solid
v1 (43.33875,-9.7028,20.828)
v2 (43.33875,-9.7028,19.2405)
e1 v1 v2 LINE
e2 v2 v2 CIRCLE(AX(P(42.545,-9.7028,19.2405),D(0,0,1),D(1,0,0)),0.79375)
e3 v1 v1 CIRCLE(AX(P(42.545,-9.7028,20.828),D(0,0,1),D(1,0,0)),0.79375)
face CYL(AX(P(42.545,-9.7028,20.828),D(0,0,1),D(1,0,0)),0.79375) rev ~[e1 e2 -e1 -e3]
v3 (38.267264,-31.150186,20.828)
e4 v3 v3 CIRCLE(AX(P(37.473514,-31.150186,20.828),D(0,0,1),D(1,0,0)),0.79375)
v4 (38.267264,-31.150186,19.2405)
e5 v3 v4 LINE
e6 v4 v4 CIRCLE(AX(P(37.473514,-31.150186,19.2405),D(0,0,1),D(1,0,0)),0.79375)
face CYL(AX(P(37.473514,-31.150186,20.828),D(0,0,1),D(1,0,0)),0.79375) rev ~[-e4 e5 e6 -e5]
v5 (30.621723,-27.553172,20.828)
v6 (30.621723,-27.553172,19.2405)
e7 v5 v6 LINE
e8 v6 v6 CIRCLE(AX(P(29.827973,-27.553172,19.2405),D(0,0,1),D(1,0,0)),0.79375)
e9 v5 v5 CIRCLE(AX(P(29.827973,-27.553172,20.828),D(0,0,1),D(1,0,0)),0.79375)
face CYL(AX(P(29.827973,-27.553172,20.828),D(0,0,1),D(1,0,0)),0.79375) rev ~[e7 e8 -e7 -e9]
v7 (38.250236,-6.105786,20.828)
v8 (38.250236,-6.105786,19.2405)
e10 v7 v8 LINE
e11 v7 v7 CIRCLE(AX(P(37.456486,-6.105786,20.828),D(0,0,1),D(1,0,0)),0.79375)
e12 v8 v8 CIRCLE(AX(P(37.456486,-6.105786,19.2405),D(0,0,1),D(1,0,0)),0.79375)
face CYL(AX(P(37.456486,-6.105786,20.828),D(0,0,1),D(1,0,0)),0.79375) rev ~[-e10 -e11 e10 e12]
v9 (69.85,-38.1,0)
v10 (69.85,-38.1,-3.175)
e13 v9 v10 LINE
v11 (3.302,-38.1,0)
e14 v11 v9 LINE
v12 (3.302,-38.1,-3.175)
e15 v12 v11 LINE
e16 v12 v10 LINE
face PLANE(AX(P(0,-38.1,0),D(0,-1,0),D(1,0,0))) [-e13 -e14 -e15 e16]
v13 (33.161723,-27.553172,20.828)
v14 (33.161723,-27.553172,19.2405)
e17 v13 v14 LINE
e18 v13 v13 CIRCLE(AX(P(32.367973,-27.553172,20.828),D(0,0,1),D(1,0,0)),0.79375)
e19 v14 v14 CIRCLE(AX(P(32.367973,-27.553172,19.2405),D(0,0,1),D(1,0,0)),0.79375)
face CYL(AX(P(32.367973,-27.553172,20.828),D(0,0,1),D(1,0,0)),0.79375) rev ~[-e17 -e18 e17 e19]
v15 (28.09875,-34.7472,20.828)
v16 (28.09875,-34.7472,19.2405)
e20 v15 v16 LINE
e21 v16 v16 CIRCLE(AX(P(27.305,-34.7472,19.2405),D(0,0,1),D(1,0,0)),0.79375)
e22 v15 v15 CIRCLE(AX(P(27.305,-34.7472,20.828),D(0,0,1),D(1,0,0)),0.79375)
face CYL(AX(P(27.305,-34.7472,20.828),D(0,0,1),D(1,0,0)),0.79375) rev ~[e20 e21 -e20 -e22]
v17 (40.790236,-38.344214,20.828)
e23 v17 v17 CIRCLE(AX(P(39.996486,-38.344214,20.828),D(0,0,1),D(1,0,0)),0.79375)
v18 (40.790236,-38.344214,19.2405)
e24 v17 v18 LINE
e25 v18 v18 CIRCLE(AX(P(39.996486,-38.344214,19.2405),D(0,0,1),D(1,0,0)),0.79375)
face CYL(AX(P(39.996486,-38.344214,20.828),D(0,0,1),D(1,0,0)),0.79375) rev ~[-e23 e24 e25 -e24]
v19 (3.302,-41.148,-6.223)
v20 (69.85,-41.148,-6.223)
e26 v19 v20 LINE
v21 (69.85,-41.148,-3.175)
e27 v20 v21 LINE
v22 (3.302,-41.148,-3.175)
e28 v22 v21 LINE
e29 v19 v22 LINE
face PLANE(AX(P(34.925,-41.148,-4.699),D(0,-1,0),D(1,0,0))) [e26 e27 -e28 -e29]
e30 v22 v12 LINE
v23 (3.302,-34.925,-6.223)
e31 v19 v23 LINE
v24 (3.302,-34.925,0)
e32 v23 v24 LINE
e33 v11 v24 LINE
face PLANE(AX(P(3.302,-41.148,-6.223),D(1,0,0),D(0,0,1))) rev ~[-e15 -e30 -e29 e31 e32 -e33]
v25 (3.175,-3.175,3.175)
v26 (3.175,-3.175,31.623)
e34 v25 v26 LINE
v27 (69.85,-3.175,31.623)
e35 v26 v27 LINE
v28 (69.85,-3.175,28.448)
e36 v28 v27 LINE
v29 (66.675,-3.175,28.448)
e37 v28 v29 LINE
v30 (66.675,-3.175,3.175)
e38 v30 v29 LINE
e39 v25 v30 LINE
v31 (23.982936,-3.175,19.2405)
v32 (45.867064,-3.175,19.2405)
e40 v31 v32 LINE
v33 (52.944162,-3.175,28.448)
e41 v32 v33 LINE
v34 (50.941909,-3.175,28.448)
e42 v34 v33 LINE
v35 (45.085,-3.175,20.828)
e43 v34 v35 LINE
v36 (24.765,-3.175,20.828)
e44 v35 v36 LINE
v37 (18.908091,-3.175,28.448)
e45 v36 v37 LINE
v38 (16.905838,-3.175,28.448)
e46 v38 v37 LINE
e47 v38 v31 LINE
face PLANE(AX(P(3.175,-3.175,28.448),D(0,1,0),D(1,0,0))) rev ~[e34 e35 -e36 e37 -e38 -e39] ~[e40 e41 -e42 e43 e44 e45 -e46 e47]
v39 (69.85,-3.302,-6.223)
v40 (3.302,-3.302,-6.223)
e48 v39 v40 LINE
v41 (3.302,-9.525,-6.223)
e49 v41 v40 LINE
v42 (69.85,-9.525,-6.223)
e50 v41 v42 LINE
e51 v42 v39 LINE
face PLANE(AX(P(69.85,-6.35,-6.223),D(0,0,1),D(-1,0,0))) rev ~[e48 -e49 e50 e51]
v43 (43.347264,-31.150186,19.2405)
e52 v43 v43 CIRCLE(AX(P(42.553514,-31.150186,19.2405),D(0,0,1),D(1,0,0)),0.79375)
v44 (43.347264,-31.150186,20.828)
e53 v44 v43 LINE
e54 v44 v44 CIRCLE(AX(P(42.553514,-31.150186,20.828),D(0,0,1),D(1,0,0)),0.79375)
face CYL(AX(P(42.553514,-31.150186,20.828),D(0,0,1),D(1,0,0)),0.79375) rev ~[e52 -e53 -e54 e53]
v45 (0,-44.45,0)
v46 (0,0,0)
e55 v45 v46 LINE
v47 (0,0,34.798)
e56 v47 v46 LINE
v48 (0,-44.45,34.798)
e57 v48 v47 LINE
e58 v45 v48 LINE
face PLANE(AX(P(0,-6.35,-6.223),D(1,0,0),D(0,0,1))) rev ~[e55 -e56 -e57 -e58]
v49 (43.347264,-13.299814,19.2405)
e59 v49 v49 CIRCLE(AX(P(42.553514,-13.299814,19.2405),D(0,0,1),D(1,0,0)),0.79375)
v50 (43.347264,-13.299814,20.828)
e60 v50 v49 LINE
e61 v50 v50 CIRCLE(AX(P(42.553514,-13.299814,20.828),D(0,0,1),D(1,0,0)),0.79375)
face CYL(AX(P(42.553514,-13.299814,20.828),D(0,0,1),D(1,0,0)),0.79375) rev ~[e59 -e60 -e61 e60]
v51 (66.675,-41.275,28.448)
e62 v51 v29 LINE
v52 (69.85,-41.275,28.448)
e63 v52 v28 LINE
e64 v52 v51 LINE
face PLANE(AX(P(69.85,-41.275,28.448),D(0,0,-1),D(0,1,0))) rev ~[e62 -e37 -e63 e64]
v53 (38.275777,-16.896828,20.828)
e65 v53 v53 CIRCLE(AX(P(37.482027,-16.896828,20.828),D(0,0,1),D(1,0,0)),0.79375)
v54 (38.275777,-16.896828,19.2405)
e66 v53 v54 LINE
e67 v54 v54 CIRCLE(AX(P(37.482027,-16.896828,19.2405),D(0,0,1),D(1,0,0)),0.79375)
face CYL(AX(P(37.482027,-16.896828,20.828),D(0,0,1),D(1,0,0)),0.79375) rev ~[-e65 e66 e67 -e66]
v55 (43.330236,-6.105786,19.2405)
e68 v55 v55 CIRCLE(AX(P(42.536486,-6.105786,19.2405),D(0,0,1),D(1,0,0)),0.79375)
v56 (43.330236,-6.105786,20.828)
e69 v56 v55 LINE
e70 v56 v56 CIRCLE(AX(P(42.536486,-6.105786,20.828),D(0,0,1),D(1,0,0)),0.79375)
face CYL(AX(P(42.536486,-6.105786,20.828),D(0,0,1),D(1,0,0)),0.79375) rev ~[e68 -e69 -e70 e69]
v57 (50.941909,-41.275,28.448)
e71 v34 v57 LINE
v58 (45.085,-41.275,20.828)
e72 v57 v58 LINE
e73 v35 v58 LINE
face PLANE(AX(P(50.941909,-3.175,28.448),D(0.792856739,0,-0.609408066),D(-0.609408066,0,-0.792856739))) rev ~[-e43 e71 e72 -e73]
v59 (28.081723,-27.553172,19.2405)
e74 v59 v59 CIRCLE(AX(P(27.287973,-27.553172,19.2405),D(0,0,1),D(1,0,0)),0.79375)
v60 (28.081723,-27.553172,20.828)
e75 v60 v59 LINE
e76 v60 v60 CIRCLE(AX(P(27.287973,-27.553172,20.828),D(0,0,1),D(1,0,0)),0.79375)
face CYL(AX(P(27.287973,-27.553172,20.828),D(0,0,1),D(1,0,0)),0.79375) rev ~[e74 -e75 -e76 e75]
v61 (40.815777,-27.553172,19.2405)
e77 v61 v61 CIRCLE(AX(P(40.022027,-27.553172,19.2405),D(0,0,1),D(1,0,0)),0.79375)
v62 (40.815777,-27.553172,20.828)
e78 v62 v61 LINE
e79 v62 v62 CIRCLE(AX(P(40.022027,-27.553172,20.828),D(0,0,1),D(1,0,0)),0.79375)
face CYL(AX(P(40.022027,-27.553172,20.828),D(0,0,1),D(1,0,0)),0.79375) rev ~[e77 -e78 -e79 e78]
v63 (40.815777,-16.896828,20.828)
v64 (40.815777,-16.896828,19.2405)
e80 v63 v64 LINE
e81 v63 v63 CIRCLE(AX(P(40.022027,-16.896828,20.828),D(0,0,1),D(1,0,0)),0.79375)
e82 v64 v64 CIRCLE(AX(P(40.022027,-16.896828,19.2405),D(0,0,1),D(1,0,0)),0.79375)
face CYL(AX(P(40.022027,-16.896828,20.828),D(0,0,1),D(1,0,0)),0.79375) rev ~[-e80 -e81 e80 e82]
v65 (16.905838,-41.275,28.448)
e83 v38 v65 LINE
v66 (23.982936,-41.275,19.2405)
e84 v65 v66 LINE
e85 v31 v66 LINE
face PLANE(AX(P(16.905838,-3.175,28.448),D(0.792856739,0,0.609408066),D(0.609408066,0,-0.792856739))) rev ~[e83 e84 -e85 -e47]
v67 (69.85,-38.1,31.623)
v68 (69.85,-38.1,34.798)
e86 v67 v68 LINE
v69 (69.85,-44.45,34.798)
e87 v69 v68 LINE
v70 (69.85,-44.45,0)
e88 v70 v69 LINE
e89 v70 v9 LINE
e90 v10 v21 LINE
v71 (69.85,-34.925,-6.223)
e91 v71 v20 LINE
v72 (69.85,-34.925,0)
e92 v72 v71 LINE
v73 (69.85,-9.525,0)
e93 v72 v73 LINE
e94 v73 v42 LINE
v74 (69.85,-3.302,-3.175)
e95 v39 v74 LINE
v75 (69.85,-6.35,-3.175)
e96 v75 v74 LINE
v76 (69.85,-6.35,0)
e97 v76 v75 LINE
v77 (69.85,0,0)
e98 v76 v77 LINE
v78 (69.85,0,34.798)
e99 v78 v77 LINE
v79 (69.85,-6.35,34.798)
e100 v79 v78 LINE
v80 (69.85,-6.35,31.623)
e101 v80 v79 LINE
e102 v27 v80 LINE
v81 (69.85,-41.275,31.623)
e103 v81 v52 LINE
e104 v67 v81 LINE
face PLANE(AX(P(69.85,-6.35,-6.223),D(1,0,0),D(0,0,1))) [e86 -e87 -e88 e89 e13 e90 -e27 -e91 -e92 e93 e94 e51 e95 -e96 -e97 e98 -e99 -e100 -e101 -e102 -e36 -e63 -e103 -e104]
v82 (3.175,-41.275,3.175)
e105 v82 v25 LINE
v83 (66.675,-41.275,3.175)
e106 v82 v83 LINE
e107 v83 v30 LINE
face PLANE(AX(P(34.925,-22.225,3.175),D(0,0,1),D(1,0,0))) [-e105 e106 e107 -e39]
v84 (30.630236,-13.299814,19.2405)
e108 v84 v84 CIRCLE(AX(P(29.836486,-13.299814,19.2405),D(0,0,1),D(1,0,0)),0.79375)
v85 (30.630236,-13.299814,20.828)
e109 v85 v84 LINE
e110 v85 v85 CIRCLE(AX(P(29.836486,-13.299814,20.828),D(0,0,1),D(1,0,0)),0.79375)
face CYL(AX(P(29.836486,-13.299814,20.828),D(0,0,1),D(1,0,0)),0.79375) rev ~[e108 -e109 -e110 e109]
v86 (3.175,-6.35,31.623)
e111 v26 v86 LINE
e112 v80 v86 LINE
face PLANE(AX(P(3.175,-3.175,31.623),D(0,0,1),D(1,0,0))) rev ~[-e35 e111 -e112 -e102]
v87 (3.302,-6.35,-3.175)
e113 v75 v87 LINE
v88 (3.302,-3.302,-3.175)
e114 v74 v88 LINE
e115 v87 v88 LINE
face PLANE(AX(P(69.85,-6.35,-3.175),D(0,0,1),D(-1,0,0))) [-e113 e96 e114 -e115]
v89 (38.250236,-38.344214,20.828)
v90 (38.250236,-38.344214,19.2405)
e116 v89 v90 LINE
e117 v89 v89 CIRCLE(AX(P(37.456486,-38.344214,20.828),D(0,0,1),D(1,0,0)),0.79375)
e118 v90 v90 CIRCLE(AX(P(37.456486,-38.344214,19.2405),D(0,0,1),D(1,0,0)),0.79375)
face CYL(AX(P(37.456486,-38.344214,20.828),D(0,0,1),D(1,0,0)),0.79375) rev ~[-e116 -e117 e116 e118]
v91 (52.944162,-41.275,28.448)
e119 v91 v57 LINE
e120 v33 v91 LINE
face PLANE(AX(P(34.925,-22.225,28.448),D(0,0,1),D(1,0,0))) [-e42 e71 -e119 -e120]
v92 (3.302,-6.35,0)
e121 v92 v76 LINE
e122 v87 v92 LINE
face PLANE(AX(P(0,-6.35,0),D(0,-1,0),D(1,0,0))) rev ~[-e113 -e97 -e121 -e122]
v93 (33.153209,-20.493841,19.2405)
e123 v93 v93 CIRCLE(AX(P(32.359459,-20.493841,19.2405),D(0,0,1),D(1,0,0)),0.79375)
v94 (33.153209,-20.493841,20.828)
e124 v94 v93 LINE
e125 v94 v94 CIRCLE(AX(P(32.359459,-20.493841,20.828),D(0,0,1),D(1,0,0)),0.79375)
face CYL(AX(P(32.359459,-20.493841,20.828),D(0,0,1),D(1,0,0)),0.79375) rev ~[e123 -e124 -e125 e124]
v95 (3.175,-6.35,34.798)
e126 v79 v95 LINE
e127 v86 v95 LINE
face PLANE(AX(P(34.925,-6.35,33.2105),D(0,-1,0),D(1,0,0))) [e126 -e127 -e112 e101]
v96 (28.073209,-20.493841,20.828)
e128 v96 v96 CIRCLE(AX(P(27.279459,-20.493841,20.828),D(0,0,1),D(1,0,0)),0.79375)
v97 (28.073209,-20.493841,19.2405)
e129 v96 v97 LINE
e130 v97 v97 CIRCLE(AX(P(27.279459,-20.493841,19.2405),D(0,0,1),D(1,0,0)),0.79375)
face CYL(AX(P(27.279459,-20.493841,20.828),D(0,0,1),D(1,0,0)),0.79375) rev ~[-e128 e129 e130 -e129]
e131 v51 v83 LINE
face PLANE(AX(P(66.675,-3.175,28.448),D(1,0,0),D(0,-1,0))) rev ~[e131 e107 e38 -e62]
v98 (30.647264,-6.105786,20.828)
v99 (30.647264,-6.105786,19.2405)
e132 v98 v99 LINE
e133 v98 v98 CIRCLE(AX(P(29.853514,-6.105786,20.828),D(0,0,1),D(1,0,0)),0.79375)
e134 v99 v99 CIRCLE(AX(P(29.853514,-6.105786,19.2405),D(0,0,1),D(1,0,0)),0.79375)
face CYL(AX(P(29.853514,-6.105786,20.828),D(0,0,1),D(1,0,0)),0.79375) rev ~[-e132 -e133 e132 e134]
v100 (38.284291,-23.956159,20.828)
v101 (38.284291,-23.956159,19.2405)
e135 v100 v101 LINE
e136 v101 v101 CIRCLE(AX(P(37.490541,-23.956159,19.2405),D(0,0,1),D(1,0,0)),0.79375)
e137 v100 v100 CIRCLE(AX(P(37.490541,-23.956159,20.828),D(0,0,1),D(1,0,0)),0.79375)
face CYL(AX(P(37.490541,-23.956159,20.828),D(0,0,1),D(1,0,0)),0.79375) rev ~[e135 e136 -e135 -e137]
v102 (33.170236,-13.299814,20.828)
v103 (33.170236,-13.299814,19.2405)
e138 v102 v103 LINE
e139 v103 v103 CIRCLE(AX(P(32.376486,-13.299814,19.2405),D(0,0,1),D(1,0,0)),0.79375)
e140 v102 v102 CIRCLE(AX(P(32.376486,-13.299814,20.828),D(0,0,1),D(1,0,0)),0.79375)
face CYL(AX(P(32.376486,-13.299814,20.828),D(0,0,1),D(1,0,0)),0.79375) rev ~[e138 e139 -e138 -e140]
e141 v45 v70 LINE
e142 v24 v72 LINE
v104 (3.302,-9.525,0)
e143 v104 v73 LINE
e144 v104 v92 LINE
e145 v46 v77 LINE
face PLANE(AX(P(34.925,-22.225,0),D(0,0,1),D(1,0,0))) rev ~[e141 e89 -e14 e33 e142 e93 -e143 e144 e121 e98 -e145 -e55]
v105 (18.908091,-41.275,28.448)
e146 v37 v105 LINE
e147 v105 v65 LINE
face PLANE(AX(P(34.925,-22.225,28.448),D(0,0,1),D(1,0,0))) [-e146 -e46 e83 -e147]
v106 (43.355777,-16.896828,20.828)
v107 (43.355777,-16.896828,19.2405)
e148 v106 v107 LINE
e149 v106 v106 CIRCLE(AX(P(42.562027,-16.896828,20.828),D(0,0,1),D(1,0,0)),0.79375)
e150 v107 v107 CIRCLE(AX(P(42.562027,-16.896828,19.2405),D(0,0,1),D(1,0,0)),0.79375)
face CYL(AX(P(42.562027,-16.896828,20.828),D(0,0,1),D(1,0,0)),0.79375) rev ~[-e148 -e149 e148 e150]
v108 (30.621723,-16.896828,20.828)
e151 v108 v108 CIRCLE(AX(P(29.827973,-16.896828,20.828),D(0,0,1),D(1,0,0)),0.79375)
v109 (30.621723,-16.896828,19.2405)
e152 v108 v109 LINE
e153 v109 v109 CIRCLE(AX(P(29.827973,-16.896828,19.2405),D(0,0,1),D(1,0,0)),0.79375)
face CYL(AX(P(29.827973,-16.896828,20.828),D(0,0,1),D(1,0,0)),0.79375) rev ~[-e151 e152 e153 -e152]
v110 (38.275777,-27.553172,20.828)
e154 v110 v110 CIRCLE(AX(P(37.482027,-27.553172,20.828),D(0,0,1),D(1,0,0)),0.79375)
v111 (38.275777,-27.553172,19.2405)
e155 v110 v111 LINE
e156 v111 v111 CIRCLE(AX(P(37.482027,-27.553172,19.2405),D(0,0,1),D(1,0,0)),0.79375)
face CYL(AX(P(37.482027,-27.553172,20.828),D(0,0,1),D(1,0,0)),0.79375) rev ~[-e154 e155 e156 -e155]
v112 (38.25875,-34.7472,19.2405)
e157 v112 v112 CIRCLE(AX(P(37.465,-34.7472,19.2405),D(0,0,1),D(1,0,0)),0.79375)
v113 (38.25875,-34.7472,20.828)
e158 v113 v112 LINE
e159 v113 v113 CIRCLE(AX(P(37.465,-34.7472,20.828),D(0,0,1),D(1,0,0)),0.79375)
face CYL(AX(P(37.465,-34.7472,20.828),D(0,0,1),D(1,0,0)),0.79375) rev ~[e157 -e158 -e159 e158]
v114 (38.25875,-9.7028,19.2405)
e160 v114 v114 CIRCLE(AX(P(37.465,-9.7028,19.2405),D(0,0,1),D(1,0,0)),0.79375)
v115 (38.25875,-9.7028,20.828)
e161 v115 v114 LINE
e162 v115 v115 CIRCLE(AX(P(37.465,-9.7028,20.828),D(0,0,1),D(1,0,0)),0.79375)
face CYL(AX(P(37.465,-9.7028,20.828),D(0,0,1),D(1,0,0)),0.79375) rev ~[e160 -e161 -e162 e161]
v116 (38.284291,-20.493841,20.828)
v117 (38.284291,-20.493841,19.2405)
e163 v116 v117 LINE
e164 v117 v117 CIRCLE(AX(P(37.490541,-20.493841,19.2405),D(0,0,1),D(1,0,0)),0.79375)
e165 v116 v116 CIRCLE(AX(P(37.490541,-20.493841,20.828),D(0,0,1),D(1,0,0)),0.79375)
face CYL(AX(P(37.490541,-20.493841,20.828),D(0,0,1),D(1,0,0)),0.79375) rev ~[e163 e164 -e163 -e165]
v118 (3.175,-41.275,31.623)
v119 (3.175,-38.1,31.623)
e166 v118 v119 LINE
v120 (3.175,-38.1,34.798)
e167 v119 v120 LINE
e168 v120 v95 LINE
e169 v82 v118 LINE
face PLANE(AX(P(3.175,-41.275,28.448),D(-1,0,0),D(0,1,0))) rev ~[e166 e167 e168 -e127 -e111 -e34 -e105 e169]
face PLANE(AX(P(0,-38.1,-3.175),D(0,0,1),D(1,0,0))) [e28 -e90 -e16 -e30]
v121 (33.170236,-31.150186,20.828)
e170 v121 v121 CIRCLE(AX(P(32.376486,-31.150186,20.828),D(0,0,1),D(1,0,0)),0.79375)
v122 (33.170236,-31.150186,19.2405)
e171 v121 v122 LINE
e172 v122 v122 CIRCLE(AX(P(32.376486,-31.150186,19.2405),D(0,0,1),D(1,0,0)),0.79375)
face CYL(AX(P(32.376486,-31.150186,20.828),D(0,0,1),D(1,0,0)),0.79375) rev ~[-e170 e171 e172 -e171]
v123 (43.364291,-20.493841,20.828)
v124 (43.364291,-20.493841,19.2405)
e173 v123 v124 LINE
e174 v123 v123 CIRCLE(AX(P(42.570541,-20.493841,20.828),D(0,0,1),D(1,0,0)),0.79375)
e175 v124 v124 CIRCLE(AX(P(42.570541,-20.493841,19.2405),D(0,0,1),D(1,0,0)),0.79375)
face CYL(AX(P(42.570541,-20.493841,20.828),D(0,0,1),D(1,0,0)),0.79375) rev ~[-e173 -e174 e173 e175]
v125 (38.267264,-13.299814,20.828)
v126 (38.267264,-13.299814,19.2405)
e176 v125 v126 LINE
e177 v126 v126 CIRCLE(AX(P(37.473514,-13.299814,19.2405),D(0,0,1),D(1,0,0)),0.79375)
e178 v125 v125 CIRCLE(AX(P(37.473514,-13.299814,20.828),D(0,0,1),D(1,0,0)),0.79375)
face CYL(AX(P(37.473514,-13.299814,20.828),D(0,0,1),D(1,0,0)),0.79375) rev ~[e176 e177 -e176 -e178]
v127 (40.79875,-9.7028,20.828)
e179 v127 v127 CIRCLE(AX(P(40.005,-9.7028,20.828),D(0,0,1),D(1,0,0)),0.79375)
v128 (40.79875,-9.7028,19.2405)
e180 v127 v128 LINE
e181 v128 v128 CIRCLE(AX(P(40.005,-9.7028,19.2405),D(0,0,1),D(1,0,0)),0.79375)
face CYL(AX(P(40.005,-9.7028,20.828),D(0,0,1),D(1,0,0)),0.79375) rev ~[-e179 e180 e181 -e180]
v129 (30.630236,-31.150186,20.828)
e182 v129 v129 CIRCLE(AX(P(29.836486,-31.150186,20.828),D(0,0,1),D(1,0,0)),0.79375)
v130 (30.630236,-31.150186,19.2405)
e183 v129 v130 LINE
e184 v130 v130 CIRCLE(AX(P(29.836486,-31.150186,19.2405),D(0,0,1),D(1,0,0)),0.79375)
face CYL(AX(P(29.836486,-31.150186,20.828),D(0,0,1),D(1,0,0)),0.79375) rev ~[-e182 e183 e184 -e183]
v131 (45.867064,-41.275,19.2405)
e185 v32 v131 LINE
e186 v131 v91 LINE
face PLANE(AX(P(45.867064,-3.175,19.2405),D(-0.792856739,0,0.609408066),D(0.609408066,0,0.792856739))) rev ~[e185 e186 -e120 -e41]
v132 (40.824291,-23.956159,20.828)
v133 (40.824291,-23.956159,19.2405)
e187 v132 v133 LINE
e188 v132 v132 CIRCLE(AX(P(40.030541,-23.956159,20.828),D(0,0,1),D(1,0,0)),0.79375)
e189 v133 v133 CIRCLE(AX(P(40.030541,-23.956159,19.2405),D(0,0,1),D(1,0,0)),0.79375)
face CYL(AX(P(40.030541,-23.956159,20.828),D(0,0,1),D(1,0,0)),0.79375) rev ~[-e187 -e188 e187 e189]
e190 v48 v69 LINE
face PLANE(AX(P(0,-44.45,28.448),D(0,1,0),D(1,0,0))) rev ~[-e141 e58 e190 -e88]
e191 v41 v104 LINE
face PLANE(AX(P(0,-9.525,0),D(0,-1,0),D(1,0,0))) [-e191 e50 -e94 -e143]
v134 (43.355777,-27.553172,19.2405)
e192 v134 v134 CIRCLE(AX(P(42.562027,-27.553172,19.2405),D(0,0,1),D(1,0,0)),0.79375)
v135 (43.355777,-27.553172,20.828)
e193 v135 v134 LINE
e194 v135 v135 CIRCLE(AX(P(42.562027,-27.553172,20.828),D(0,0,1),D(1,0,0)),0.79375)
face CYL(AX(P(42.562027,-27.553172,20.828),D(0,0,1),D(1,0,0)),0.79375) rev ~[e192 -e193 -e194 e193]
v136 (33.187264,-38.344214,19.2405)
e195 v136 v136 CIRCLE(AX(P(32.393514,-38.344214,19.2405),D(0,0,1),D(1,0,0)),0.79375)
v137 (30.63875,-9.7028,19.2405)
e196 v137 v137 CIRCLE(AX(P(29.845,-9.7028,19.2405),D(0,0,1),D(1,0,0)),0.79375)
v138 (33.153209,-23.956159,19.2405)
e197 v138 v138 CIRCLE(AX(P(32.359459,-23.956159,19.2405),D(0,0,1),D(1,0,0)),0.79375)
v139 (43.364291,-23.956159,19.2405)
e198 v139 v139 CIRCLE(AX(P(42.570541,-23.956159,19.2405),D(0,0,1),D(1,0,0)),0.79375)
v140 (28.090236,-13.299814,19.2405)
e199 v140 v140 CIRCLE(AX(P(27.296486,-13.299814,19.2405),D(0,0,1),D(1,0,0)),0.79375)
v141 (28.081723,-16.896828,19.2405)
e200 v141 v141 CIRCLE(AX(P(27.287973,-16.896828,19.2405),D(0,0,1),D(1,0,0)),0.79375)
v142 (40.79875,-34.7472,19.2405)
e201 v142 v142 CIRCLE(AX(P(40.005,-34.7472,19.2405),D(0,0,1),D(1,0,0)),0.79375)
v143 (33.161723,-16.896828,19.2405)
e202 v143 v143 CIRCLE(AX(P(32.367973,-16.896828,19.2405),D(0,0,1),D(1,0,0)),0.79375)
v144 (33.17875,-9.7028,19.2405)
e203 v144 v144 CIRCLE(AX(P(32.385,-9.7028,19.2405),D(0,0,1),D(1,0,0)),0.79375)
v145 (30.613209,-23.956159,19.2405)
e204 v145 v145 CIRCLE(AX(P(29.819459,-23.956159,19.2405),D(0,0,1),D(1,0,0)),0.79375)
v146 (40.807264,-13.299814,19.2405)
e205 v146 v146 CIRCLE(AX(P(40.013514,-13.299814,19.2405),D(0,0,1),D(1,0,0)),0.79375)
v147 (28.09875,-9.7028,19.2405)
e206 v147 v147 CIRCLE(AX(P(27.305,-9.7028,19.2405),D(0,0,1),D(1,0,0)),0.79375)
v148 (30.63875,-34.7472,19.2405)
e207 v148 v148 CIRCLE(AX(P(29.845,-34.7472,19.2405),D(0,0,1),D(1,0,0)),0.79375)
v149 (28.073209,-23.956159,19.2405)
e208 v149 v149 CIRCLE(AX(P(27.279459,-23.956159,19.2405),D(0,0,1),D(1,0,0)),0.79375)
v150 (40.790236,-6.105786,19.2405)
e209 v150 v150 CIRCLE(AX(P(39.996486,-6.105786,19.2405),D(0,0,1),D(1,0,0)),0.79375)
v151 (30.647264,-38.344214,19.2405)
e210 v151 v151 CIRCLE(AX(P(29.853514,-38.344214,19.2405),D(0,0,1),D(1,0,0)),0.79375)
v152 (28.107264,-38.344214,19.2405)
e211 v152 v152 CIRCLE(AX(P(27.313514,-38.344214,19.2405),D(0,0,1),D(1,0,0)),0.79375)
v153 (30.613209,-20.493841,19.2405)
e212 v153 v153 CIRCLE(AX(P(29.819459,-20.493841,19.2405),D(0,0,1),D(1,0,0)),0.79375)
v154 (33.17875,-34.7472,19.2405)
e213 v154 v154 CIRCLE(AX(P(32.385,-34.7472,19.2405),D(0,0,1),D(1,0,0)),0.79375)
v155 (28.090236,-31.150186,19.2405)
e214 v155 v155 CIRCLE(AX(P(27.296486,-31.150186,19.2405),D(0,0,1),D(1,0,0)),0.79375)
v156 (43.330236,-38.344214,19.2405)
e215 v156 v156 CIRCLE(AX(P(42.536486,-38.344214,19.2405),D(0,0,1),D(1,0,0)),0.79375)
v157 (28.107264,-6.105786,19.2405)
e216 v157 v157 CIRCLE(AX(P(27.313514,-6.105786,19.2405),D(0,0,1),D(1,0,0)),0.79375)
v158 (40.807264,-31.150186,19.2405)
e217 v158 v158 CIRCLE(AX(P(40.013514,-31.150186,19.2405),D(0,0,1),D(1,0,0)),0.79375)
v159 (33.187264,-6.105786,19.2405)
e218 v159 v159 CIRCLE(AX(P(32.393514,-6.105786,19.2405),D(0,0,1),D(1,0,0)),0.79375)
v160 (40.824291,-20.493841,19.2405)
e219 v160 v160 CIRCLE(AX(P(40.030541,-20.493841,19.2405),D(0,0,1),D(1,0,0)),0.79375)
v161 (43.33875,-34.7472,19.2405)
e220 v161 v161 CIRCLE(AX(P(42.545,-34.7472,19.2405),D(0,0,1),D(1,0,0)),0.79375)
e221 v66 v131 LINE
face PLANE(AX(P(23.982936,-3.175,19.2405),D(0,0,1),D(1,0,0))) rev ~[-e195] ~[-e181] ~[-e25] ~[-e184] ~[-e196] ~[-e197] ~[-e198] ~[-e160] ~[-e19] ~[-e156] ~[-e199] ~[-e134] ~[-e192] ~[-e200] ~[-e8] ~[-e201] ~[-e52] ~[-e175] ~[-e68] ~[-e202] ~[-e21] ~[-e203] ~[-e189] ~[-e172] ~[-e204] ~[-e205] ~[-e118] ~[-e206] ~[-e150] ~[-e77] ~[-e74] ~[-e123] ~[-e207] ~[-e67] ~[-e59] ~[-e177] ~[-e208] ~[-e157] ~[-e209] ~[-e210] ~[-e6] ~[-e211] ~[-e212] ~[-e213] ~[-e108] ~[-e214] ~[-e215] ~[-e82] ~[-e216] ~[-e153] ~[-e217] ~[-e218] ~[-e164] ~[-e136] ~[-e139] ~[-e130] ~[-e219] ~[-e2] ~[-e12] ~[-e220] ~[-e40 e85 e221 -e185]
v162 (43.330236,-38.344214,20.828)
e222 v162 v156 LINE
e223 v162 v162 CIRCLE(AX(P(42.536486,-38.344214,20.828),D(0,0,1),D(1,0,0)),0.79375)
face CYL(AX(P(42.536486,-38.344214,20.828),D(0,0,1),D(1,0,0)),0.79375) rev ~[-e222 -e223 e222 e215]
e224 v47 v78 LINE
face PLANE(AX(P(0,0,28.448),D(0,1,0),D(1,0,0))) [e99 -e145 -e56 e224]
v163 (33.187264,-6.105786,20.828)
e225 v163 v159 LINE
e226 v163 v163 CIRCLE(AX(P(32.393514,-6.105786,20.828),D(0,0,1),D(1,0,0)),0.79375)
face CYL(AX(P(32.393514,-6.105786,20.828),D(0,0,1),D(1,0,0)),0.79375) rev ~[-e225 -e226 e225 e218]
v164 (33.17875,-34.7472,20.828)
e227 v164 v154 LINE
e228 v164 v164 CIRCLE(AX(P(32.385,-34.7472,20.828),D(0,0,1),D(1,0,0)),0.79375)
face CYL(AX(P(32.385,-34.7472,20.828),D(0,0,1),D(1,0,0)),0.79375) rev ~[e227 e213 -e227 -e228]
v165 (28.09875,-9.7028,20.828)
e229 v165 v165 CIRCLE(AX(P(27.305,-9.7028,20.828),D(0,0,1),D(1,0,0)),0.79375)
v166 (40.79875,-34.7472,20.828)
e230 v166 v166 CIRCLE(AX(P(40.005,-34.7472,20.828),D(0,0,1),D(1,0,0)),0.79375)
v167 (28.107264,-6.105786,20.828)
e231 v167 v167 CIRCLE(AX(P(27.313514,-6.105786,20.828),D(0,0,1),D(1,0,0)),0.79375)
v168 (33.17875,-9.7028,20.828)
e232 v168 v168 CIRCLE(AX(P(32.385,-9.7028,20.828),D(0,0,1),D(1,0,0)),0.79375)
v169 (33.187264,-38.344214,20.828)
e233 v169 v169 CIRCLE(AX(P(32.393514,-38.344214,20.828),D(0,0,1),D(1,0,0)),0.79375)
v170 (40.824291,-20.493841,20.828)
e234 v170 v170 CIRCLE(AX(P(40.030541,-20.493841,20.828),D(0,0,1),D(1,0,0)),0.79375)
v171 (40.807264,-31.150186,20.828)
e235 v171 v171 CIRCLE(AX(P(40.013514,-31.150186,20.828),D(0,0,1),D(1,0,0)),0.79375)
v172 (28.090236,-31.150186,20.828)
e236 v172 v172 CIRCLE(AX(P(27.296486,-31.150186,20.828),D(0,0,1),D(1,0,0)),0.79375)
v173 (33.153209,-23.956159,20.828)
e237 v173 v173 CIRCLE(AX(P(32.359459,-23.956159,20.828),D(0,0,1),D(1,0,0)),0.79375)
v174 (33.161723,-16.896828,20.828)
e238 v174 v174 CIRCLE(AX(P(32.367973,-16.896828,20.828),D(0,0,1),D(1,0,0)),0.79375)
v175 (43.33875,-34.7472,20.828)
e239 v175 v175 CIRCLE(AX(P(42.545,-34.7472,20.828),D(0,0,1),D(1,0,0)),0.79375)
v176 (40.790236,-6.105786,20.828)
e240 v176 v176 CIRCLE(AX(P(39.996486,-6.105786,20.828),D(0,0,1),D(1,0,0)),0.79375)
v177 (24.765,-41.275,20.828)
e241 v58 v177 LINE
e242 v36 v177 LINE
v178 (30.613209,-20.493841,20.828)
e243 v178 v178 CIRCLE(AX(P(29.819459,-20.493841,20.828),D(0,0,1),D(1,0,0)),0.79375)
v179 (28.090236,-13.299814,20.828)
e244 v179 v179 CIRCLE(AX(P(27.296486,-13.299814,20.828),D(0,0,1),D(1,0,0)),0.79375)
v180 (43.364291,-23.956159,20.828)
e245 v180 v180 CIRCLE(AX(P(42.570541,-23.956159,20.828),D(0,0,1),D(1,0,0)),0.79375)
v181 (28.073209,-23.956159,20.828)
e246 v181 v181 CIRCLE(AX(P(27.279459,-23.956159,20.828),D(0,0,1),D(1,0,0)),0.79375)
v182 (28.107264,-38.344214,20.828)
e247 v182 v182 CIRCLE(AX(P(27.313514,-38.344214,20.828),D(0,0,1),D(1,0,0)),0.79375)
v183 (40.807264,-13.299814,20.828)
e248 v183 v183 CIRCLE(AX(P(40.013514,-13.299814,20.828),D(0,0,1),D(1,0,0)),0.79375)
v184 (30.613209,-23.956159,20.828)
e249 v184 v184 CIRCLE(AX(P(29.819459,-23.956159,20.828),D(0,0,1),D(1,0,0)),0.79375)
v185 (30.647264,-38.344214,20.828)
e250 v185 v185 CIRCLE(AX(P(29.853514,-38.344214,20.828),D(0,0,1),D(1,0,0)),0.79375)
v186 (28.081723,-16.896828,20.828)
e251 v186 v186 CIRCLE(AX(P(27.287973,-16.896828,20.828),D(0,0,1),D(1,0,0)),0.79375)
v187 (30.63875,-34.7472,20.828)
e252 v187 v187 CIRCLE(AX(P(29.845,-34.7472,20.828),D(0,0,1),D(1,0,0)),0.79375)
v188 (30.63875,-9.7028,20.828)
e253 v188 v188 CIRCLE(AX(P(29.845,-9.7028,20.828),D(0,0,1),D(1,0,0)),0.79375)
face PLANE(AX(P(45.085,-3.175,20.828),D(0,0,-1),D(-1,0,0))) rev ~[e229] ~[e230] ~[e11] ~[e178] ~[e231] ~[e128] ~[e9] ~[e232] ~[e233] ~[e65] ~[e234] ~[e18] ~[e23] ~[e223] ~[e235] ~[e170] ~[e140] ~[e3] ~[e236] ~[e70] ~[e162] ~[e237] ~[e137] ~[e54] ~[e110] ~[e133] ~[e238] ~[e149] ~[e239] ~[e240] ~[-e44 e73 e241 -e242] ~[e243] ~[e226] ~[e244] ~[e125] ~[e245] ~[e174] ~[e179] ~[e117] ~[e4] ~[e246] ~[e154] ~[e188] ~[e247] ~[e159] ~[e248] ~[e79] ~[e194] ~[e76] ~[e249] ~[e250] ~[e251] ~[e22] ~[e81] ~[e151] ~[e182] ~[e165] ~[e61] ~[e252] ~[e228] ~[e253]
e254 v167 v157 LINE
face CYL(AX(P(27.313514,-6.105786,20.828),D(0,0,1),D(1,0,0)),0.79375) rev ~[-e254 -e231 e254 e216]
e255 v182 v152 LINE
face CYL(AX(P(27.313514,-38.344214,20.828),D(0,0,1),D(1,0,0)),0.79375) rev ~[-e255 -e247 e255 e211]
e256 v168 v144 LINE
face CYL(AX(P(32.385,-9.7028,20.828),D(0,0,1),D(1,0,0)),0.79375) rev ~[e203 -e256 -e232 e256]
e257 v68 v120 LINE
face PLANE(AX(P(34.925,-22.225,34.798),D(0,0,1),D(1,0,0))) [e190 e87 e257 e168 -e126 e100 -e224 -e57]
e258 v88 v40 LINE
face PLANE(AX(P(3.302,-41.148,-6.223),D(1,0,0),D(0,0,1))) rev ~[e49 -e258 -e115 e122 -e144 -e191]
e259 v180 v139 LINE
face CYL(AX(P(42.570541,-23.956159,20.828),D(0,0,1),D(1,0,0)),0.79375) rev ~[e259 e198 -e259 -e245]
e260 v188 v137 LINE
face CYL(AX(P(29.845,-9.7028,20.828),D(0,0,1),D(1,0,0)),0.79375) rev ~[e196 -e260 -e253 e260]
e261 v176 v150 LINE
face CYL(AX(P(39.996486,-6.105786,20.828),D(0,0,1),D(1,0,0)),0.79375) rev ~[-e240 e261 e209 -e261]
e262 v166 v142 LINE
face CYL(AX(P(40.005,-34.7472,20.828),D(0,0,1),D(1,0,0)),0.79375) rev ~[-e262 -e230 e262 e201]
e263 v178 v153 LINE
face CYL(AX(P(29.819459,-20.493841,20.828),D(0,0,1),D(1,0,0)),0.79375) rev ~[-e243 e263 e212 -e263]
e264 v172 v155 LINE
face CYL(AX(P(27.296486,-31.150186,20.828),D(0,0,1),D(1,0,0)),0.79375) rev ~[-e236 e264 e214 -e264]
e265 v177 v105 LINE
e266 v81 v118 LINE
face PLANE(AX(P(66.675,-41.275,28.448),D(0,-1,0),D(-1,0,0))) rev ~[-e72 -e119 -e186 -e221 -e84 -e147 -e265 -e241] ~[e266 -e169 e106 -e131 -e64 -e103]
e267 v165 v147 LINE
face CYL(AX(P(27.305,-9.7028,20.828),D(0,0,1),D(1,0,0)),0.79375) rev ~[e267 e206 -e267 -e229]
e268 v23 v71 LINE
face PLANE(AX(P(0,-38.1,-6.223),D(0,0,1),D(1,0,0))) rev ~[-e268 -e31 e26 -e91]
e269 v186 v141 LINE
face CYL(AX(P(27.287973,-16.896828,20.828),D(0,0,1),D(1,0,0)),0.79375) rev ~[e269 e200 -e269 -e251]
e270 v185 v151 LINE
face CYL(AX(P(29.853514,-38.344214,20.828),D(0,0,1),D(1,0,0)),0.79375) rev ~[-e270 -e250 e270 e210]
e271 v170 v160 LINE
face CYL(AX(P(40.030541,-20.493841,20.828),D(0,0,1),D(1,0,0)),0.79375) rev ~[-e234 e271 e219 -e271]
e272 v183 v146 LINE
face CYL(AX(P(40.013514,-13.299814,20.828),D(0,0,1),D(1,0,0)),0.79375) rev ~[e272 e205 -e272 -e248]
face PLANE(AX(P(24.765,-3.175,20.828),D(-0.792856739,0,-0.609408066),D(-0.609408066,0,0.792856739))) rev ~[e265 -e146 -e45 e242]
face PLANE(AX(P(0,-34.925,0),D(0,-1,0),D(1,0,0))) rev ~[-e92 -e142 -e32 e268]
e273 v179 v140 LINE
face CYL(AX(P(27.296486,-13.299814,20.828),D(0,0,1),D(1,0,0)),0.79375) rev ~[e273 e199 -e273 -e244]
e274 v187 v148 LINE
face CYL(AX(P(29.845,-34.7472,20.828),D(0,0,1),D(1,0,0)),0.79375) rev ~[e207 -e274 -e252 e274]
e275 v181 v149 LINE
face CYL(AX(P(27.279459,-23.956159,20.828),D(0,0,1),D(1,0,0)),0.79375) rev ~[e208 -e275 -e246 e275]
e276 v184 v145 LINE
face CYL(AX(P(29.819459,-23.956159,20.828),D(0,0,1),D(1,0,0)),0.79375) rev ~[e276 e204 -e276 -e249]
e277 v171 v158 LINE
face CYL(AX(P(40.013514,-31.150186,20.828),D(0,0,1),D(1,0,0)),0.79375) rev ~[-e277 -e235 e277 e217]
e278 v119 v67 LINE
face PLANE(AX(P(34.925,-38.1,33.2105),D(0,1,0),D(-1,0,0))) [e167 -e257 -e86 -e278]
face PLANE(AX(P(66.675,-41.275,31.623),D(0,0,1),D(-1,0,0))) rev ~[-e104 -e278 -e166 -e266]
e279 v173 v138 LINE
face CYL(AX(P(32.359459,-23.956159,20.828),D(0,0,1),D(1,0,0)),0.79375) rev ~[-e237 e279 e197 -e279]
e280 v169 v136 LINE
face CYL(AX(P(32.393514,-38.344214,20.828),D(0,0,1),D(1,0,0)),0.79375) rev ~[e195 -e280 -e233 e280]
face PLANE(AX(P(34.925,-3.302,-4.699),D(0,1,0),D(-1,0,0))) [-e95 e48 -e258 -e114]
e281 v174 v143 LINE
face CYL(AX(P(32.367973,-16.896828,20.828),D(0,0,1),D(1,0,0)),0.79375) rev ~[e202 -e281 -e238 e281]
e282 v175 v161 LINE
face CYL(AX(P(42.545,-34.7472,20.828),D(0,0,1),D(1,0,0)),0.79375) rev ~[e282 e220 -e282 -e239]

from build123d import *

# Parameters (mm, degrees)
F0_W      = 69.85
F0_H      = 44.45
F1_DEPTH  = 3.175
F2_W      = 69.85
F2_H      = 44.45
F2_W_2    = 63.5
F2_H_2    = 38.1
F3_DEPTH  = 25.273
F5_DEPTH  = 38.1
F6_R      = 0.79375
F7_DEPTH  = 1.5875
F8_W      = 69.85
F8_H      = 44.45
F9_DEPTH  = 6.35
F10_W     = 63.5
F10_H     = 3.175
F11_DEPTH = 3.175
F12_W     = 63.5
F12_H     = 3.175
F13_DEPTH = 3.175
F14_W     = 31.75
F14_H     = 3.175
F15_DEPTH = 3.175
F16_W     = 69.85
F16_H     = 3.175
F17_DEPTH = 6.223
F18_W     = 69.85
F18_H     = 3.048
F19_DEPTH = 3.048
F20_W     = 69.85
F20_H     = 3.048
F21_DEPTH = 3.048
F22_W     = 3.302
F22_H     = 6.223
F23_DEPTH = 38.1


with BuildPart() as f1:
    # F0 (on Top) → F1 (new body)
    with BuildSketch(Plane.XY):
        with Locations((34.925, -22.225)):
            Rectangle(F0_W, F0_H)
    extrude(amount=F1_DEPTH)

    # F2 (on face) → F3 (join)
    with BuildSketch(Plane.XY.offset(3.175)):
        with Locations((34.925, -22.225)):
            Rectangle(F2_W, F2_H)
        with Locations((34.925, -22.225)):
            Rectangle(F2_W_2, F2_H_2, mode=Mode.SUBTRACT)
    extrude(amount=F3_DEPTH)

    # F4 (on face) → F5 (join, through all)
    with BuildSketch(Plane.XZ.offset(3.175)):
        Polygon((34.925, 19.2405), (34.925, 20.828), (24.765, 20.828), (18.9080913895, 28.448), (16.9058381181, 28.448), (23.9829360225, 19.2405), (33.274, 19.2405), align=None)
        Polygon((45.085, 20.828), (34.925, 20.828), (34.925, 19.2405), (45.8670639775, 19.2405), (52.9441618819, 28.448), (50.9419086105, 28.448), align=None)
    extrude(amount=F5_DEPTH)

    # F6 (on face) → F7 (cut, through all)
    with BuildSketch(Plane.XY.offset(20.828)):
        with Locations((27.3135136813, -6.1057861894)):
            Circle(F6_R)
        with Locations((29.8535136813, -6.1057861894)):
            Circle(F6_R)
        with Locations((32.3935136813, -6.1057861894)):
            Circle(F6_R)
        with Locations((27.305, -9.7028)):
            Circle(F6_R)
        with Locations((29.845, -9.7028)):
            Circle(F6_R)
        with Locations((32.385, -9.7028)):
            Circle(F6_R)
        with Locations((27.2964863187, -13.2998138106)):
            Circle(F6_R)
        with Locations((29.8364863187, -13.2998138106)):
            Circle(F6_R)
        with Locations((32.3764863187, -13.2998138106)):
            Circle(F6_R)
        with Locations((27.2879726374, -16.8968276211)):
            Circle(F6_R)
        with Locations((29.8279726374, -16.8968276211)):
            Circle(F6_R)
        with Locations((32.3679726374, -16.8968276211)):
            Circle(F6_R)
        with Locations((27.2794589561, -20.4938414317)):
            Circle(F6_R)
        with Locations((29.8194589561, -20.4938414317)):
            Circle(F6_R)
        with Locations((32.3594589561, -20.4938414317)):
            Circle(F6_R)
        with Locations((42.5364863187, -6.1057861894)):
            Circle(F6_R)
        with Locations((39.9964863187, -6.1057861894)):
            Circle(F6_R)
        with Locations((37.4564863187, -6.1057861894)):
            Circle(F6_R)
        with Locations((37.465, -9.7028)):
            Circle(F6_R)
        with Locations((40.005, -9.7028)):
            Circle(F6_R)
        with Locations((42.545, -9.7028)):
            Circle(F6_R)
        with Locations((42.5535136813, -13.2998138106)):
            Circle(F6_R)
        with Locations((40.0135136813, -13.2998138106)):
            Circle(F6_R)
        with Locations((37.4735136813, -13.2998138106)):
            Circle(F6_R)
        with Locations((42.5620273626, -16.8968276211)):
            Circle(F6_R)
        with Locations((40.0220273626, -16.8968276211)):
            Circle(F6_R)
        with Locations((37.4820273626, -16.8968276211)):
            Circle(F6_R)
        with Locations((42.5705410439, -20.4938414317)):
            Circle(F6_R)
        with Locations((40.0305410439, -20.4938414317)):
            Circle(F6_R)
        with Locations((37.4905410439, -20.4938414317)):
            Circle(F6_R)
        with Locations((27.2794589561, -23.9561585683)):
            Circle(F6_R)
        with Locations((29.8194589561, -23.9561585683)):
            Circle(F6_R)
        with Locations((32.3594589561, -23.9561585683)):
            Circle(F6_R)
        with Locations((27.2879726374, -27.5531723789)):
            Circle(F6_R)
        with Locations((29.8279726374, -27.5531723789)):
            Circle(F6_R)
        with Locations((32.3679726374, -27.5531723789)):
            Circle(F6_R)
        with Locations((32.3764863187, -31.1501861894)):
            Circle(F6_R)
        with Locations((29.8364863187, -31.1501861894)):
            Circle(F6_R)
        with Locations((27.2964863187, -31.1501861894)):
            Circle(F6_R)
        with Locations((27.305, -34.7472)):
            Circle(F6_R)
        with Locations((29.845, -34.7472)):
            Circle(F6_R)
        with Locations((32.385, -34.7472)):
            Circle(F6_R)
        with Locations((32.3935136813, -38.3442138106)):
            Circle(F6_R)
        with Locations((29.8535136813, -38.3442138106)):
            Circle(F6_R)
        with Locations((27.3135136813, -38.3442138106)):
            Circle(F6_R)
        with Locations((37.4564863187, -38.3442138106)):
            Circle(F6_R)
        with Locations((39.9964863187, -38.3442138106)):
            Circle(F6_R)
        with Locations((42.5364863187, -38.3442138106)):
            Circle(F6_R)
        with Locations((37.465, -34.7472)):
            Circle(F6_R)
        with Locations((40.005, -34.7472)):
            Circle(F6_R)
        with Locations((42.545, -34.7472)):
            Circle(F6_R)
        with Locations((37.4735136813, -31.1501861894)):
            Circle(F6_R)
        with Locations((40.0135136813, -31.1501861894)):
            Circle(F6_R)
        with Locations((42.5535136813, -31.1501861894)):
            Circle(F6_R)
        with Locations((37.4820273626, -27.5531723789)):
            Circle(F6_R)
        with Locations((40.0220273626, -27.5531723789)):
            Circle(F6_R)
        with Locations((42.5620273626, -27.5531723789)):
            Circle(F6_R)
        with Locations((37.4905410439, -23.9561585683)):
            Circle(F6_R)
        with Locations((40.0305410439, -23.9561585683)):
            Circle(F6_R)
        with Locations((42.5705410439, -23.9561585683)):
            Circle(F6_R)
    extrude(amount=-F7_DEPTH, mode=Mode.SUBTRACT)

    # F8 (on face) → F9 (join)
    with BuildSketch(Plane.XY.offset(28.448)):
        with Locations((34.925, -22.225)):
            Rectangle(F8_W, F8_H)
        Polygon((18.9080913895, -41.275), (16.9058381181, -41.275), (3.175, -41.275), (3.175, -3.175), (16.9058381181, -3.175), (18.9080913895, -3.175), (50.9419086105, -3.175), (52.9441618819, -3.175), (66.675, -3.175), (66.675, -41.275), (52.9441618819, -41.275), (50.9419086105, -41.275), align=None, mode=Mode.SUBTRACT)
    extrude(amount=F9_DEPTH)

    # F10 (on face) → F11 (join)
    with BuildSketch(Plane(origin=(0, -41.275, 0), x_dir=(-1, 0, 0), z_dir=(0, 1, 0))):
        with Locations((-34.925, 33.2105)):
            Rectangle(F10_W, F10_H)
    extrude(amount=F11_DEPTH)

    # F12 (on face) → F13 (join)
    with BuildSketch(Plane.XZ.offset(3.175)):
        with Locations((34.925, 33.2105)):
            Rectangle(F12_W, F12_H)
    extrude(amount=F13_DEPTH)

    # F14 (on face) → F15 (cut, through all)
    with BuildSketch(Plane.YZ.offset(69.85)):
        with Locations((-22.225, 33.2105)):
            Rectangle(F14_W, F14_H)
        Polygon((-6.35, 31.623), (-38.1, 31.623), (-41.275, 31.623), (-41.275, 28.448), (-3.175, 28.448), (-3.175, 31.623), align=None)
    extrude(amount=-F15_DEPTH, mode=Mode.SUBTRACT)

    # F16 (on face) → F17 (join)
    with BuildSketch(Plane(origin=(0, 0, 0), x_dir=(1, 0, 0), z_dir=(0, 0, -1))):
        with Locations((34.925, 7.9375)):
            Rectangle(F16_W, F16_H)
        with Locations((34.925, 36.5125)):
            Rectangle(F16_W, F16_H)
    extrude(amount=F17_DEPTH)

    # F18 (on face) → F19 (join)
    with BuildSketch(Plane.XZ.offset(38.1)):
        with Locations((34.925, -4.699)):
            Rectangle(F18_W, F18_H)
    extrude(amount=F19_DEPTH)

    # F20 (on face) → F21 (join)
    with BuildSketch(Plane(origin=(0, -6.35, 0), x_dir=(-1, 0, 0), z_dir=(0, 1, 0))):
        with Locations((-34.925, -4.699)):
            Rectangle(F20_W, F20_H)
    extrude(amount=F21_DEPTH)

    # F22 (on face) → F23 (cut)
    with BuildSketch(Plane.XZ.offset(41.148)):
        with Locations((1.651, -3.1115)):
            Rectangle(F22_W, F22_H)
    extrude(amount=-F23_DEPTH, mode=Mode.SUBTRACT)


solid = f1.part
